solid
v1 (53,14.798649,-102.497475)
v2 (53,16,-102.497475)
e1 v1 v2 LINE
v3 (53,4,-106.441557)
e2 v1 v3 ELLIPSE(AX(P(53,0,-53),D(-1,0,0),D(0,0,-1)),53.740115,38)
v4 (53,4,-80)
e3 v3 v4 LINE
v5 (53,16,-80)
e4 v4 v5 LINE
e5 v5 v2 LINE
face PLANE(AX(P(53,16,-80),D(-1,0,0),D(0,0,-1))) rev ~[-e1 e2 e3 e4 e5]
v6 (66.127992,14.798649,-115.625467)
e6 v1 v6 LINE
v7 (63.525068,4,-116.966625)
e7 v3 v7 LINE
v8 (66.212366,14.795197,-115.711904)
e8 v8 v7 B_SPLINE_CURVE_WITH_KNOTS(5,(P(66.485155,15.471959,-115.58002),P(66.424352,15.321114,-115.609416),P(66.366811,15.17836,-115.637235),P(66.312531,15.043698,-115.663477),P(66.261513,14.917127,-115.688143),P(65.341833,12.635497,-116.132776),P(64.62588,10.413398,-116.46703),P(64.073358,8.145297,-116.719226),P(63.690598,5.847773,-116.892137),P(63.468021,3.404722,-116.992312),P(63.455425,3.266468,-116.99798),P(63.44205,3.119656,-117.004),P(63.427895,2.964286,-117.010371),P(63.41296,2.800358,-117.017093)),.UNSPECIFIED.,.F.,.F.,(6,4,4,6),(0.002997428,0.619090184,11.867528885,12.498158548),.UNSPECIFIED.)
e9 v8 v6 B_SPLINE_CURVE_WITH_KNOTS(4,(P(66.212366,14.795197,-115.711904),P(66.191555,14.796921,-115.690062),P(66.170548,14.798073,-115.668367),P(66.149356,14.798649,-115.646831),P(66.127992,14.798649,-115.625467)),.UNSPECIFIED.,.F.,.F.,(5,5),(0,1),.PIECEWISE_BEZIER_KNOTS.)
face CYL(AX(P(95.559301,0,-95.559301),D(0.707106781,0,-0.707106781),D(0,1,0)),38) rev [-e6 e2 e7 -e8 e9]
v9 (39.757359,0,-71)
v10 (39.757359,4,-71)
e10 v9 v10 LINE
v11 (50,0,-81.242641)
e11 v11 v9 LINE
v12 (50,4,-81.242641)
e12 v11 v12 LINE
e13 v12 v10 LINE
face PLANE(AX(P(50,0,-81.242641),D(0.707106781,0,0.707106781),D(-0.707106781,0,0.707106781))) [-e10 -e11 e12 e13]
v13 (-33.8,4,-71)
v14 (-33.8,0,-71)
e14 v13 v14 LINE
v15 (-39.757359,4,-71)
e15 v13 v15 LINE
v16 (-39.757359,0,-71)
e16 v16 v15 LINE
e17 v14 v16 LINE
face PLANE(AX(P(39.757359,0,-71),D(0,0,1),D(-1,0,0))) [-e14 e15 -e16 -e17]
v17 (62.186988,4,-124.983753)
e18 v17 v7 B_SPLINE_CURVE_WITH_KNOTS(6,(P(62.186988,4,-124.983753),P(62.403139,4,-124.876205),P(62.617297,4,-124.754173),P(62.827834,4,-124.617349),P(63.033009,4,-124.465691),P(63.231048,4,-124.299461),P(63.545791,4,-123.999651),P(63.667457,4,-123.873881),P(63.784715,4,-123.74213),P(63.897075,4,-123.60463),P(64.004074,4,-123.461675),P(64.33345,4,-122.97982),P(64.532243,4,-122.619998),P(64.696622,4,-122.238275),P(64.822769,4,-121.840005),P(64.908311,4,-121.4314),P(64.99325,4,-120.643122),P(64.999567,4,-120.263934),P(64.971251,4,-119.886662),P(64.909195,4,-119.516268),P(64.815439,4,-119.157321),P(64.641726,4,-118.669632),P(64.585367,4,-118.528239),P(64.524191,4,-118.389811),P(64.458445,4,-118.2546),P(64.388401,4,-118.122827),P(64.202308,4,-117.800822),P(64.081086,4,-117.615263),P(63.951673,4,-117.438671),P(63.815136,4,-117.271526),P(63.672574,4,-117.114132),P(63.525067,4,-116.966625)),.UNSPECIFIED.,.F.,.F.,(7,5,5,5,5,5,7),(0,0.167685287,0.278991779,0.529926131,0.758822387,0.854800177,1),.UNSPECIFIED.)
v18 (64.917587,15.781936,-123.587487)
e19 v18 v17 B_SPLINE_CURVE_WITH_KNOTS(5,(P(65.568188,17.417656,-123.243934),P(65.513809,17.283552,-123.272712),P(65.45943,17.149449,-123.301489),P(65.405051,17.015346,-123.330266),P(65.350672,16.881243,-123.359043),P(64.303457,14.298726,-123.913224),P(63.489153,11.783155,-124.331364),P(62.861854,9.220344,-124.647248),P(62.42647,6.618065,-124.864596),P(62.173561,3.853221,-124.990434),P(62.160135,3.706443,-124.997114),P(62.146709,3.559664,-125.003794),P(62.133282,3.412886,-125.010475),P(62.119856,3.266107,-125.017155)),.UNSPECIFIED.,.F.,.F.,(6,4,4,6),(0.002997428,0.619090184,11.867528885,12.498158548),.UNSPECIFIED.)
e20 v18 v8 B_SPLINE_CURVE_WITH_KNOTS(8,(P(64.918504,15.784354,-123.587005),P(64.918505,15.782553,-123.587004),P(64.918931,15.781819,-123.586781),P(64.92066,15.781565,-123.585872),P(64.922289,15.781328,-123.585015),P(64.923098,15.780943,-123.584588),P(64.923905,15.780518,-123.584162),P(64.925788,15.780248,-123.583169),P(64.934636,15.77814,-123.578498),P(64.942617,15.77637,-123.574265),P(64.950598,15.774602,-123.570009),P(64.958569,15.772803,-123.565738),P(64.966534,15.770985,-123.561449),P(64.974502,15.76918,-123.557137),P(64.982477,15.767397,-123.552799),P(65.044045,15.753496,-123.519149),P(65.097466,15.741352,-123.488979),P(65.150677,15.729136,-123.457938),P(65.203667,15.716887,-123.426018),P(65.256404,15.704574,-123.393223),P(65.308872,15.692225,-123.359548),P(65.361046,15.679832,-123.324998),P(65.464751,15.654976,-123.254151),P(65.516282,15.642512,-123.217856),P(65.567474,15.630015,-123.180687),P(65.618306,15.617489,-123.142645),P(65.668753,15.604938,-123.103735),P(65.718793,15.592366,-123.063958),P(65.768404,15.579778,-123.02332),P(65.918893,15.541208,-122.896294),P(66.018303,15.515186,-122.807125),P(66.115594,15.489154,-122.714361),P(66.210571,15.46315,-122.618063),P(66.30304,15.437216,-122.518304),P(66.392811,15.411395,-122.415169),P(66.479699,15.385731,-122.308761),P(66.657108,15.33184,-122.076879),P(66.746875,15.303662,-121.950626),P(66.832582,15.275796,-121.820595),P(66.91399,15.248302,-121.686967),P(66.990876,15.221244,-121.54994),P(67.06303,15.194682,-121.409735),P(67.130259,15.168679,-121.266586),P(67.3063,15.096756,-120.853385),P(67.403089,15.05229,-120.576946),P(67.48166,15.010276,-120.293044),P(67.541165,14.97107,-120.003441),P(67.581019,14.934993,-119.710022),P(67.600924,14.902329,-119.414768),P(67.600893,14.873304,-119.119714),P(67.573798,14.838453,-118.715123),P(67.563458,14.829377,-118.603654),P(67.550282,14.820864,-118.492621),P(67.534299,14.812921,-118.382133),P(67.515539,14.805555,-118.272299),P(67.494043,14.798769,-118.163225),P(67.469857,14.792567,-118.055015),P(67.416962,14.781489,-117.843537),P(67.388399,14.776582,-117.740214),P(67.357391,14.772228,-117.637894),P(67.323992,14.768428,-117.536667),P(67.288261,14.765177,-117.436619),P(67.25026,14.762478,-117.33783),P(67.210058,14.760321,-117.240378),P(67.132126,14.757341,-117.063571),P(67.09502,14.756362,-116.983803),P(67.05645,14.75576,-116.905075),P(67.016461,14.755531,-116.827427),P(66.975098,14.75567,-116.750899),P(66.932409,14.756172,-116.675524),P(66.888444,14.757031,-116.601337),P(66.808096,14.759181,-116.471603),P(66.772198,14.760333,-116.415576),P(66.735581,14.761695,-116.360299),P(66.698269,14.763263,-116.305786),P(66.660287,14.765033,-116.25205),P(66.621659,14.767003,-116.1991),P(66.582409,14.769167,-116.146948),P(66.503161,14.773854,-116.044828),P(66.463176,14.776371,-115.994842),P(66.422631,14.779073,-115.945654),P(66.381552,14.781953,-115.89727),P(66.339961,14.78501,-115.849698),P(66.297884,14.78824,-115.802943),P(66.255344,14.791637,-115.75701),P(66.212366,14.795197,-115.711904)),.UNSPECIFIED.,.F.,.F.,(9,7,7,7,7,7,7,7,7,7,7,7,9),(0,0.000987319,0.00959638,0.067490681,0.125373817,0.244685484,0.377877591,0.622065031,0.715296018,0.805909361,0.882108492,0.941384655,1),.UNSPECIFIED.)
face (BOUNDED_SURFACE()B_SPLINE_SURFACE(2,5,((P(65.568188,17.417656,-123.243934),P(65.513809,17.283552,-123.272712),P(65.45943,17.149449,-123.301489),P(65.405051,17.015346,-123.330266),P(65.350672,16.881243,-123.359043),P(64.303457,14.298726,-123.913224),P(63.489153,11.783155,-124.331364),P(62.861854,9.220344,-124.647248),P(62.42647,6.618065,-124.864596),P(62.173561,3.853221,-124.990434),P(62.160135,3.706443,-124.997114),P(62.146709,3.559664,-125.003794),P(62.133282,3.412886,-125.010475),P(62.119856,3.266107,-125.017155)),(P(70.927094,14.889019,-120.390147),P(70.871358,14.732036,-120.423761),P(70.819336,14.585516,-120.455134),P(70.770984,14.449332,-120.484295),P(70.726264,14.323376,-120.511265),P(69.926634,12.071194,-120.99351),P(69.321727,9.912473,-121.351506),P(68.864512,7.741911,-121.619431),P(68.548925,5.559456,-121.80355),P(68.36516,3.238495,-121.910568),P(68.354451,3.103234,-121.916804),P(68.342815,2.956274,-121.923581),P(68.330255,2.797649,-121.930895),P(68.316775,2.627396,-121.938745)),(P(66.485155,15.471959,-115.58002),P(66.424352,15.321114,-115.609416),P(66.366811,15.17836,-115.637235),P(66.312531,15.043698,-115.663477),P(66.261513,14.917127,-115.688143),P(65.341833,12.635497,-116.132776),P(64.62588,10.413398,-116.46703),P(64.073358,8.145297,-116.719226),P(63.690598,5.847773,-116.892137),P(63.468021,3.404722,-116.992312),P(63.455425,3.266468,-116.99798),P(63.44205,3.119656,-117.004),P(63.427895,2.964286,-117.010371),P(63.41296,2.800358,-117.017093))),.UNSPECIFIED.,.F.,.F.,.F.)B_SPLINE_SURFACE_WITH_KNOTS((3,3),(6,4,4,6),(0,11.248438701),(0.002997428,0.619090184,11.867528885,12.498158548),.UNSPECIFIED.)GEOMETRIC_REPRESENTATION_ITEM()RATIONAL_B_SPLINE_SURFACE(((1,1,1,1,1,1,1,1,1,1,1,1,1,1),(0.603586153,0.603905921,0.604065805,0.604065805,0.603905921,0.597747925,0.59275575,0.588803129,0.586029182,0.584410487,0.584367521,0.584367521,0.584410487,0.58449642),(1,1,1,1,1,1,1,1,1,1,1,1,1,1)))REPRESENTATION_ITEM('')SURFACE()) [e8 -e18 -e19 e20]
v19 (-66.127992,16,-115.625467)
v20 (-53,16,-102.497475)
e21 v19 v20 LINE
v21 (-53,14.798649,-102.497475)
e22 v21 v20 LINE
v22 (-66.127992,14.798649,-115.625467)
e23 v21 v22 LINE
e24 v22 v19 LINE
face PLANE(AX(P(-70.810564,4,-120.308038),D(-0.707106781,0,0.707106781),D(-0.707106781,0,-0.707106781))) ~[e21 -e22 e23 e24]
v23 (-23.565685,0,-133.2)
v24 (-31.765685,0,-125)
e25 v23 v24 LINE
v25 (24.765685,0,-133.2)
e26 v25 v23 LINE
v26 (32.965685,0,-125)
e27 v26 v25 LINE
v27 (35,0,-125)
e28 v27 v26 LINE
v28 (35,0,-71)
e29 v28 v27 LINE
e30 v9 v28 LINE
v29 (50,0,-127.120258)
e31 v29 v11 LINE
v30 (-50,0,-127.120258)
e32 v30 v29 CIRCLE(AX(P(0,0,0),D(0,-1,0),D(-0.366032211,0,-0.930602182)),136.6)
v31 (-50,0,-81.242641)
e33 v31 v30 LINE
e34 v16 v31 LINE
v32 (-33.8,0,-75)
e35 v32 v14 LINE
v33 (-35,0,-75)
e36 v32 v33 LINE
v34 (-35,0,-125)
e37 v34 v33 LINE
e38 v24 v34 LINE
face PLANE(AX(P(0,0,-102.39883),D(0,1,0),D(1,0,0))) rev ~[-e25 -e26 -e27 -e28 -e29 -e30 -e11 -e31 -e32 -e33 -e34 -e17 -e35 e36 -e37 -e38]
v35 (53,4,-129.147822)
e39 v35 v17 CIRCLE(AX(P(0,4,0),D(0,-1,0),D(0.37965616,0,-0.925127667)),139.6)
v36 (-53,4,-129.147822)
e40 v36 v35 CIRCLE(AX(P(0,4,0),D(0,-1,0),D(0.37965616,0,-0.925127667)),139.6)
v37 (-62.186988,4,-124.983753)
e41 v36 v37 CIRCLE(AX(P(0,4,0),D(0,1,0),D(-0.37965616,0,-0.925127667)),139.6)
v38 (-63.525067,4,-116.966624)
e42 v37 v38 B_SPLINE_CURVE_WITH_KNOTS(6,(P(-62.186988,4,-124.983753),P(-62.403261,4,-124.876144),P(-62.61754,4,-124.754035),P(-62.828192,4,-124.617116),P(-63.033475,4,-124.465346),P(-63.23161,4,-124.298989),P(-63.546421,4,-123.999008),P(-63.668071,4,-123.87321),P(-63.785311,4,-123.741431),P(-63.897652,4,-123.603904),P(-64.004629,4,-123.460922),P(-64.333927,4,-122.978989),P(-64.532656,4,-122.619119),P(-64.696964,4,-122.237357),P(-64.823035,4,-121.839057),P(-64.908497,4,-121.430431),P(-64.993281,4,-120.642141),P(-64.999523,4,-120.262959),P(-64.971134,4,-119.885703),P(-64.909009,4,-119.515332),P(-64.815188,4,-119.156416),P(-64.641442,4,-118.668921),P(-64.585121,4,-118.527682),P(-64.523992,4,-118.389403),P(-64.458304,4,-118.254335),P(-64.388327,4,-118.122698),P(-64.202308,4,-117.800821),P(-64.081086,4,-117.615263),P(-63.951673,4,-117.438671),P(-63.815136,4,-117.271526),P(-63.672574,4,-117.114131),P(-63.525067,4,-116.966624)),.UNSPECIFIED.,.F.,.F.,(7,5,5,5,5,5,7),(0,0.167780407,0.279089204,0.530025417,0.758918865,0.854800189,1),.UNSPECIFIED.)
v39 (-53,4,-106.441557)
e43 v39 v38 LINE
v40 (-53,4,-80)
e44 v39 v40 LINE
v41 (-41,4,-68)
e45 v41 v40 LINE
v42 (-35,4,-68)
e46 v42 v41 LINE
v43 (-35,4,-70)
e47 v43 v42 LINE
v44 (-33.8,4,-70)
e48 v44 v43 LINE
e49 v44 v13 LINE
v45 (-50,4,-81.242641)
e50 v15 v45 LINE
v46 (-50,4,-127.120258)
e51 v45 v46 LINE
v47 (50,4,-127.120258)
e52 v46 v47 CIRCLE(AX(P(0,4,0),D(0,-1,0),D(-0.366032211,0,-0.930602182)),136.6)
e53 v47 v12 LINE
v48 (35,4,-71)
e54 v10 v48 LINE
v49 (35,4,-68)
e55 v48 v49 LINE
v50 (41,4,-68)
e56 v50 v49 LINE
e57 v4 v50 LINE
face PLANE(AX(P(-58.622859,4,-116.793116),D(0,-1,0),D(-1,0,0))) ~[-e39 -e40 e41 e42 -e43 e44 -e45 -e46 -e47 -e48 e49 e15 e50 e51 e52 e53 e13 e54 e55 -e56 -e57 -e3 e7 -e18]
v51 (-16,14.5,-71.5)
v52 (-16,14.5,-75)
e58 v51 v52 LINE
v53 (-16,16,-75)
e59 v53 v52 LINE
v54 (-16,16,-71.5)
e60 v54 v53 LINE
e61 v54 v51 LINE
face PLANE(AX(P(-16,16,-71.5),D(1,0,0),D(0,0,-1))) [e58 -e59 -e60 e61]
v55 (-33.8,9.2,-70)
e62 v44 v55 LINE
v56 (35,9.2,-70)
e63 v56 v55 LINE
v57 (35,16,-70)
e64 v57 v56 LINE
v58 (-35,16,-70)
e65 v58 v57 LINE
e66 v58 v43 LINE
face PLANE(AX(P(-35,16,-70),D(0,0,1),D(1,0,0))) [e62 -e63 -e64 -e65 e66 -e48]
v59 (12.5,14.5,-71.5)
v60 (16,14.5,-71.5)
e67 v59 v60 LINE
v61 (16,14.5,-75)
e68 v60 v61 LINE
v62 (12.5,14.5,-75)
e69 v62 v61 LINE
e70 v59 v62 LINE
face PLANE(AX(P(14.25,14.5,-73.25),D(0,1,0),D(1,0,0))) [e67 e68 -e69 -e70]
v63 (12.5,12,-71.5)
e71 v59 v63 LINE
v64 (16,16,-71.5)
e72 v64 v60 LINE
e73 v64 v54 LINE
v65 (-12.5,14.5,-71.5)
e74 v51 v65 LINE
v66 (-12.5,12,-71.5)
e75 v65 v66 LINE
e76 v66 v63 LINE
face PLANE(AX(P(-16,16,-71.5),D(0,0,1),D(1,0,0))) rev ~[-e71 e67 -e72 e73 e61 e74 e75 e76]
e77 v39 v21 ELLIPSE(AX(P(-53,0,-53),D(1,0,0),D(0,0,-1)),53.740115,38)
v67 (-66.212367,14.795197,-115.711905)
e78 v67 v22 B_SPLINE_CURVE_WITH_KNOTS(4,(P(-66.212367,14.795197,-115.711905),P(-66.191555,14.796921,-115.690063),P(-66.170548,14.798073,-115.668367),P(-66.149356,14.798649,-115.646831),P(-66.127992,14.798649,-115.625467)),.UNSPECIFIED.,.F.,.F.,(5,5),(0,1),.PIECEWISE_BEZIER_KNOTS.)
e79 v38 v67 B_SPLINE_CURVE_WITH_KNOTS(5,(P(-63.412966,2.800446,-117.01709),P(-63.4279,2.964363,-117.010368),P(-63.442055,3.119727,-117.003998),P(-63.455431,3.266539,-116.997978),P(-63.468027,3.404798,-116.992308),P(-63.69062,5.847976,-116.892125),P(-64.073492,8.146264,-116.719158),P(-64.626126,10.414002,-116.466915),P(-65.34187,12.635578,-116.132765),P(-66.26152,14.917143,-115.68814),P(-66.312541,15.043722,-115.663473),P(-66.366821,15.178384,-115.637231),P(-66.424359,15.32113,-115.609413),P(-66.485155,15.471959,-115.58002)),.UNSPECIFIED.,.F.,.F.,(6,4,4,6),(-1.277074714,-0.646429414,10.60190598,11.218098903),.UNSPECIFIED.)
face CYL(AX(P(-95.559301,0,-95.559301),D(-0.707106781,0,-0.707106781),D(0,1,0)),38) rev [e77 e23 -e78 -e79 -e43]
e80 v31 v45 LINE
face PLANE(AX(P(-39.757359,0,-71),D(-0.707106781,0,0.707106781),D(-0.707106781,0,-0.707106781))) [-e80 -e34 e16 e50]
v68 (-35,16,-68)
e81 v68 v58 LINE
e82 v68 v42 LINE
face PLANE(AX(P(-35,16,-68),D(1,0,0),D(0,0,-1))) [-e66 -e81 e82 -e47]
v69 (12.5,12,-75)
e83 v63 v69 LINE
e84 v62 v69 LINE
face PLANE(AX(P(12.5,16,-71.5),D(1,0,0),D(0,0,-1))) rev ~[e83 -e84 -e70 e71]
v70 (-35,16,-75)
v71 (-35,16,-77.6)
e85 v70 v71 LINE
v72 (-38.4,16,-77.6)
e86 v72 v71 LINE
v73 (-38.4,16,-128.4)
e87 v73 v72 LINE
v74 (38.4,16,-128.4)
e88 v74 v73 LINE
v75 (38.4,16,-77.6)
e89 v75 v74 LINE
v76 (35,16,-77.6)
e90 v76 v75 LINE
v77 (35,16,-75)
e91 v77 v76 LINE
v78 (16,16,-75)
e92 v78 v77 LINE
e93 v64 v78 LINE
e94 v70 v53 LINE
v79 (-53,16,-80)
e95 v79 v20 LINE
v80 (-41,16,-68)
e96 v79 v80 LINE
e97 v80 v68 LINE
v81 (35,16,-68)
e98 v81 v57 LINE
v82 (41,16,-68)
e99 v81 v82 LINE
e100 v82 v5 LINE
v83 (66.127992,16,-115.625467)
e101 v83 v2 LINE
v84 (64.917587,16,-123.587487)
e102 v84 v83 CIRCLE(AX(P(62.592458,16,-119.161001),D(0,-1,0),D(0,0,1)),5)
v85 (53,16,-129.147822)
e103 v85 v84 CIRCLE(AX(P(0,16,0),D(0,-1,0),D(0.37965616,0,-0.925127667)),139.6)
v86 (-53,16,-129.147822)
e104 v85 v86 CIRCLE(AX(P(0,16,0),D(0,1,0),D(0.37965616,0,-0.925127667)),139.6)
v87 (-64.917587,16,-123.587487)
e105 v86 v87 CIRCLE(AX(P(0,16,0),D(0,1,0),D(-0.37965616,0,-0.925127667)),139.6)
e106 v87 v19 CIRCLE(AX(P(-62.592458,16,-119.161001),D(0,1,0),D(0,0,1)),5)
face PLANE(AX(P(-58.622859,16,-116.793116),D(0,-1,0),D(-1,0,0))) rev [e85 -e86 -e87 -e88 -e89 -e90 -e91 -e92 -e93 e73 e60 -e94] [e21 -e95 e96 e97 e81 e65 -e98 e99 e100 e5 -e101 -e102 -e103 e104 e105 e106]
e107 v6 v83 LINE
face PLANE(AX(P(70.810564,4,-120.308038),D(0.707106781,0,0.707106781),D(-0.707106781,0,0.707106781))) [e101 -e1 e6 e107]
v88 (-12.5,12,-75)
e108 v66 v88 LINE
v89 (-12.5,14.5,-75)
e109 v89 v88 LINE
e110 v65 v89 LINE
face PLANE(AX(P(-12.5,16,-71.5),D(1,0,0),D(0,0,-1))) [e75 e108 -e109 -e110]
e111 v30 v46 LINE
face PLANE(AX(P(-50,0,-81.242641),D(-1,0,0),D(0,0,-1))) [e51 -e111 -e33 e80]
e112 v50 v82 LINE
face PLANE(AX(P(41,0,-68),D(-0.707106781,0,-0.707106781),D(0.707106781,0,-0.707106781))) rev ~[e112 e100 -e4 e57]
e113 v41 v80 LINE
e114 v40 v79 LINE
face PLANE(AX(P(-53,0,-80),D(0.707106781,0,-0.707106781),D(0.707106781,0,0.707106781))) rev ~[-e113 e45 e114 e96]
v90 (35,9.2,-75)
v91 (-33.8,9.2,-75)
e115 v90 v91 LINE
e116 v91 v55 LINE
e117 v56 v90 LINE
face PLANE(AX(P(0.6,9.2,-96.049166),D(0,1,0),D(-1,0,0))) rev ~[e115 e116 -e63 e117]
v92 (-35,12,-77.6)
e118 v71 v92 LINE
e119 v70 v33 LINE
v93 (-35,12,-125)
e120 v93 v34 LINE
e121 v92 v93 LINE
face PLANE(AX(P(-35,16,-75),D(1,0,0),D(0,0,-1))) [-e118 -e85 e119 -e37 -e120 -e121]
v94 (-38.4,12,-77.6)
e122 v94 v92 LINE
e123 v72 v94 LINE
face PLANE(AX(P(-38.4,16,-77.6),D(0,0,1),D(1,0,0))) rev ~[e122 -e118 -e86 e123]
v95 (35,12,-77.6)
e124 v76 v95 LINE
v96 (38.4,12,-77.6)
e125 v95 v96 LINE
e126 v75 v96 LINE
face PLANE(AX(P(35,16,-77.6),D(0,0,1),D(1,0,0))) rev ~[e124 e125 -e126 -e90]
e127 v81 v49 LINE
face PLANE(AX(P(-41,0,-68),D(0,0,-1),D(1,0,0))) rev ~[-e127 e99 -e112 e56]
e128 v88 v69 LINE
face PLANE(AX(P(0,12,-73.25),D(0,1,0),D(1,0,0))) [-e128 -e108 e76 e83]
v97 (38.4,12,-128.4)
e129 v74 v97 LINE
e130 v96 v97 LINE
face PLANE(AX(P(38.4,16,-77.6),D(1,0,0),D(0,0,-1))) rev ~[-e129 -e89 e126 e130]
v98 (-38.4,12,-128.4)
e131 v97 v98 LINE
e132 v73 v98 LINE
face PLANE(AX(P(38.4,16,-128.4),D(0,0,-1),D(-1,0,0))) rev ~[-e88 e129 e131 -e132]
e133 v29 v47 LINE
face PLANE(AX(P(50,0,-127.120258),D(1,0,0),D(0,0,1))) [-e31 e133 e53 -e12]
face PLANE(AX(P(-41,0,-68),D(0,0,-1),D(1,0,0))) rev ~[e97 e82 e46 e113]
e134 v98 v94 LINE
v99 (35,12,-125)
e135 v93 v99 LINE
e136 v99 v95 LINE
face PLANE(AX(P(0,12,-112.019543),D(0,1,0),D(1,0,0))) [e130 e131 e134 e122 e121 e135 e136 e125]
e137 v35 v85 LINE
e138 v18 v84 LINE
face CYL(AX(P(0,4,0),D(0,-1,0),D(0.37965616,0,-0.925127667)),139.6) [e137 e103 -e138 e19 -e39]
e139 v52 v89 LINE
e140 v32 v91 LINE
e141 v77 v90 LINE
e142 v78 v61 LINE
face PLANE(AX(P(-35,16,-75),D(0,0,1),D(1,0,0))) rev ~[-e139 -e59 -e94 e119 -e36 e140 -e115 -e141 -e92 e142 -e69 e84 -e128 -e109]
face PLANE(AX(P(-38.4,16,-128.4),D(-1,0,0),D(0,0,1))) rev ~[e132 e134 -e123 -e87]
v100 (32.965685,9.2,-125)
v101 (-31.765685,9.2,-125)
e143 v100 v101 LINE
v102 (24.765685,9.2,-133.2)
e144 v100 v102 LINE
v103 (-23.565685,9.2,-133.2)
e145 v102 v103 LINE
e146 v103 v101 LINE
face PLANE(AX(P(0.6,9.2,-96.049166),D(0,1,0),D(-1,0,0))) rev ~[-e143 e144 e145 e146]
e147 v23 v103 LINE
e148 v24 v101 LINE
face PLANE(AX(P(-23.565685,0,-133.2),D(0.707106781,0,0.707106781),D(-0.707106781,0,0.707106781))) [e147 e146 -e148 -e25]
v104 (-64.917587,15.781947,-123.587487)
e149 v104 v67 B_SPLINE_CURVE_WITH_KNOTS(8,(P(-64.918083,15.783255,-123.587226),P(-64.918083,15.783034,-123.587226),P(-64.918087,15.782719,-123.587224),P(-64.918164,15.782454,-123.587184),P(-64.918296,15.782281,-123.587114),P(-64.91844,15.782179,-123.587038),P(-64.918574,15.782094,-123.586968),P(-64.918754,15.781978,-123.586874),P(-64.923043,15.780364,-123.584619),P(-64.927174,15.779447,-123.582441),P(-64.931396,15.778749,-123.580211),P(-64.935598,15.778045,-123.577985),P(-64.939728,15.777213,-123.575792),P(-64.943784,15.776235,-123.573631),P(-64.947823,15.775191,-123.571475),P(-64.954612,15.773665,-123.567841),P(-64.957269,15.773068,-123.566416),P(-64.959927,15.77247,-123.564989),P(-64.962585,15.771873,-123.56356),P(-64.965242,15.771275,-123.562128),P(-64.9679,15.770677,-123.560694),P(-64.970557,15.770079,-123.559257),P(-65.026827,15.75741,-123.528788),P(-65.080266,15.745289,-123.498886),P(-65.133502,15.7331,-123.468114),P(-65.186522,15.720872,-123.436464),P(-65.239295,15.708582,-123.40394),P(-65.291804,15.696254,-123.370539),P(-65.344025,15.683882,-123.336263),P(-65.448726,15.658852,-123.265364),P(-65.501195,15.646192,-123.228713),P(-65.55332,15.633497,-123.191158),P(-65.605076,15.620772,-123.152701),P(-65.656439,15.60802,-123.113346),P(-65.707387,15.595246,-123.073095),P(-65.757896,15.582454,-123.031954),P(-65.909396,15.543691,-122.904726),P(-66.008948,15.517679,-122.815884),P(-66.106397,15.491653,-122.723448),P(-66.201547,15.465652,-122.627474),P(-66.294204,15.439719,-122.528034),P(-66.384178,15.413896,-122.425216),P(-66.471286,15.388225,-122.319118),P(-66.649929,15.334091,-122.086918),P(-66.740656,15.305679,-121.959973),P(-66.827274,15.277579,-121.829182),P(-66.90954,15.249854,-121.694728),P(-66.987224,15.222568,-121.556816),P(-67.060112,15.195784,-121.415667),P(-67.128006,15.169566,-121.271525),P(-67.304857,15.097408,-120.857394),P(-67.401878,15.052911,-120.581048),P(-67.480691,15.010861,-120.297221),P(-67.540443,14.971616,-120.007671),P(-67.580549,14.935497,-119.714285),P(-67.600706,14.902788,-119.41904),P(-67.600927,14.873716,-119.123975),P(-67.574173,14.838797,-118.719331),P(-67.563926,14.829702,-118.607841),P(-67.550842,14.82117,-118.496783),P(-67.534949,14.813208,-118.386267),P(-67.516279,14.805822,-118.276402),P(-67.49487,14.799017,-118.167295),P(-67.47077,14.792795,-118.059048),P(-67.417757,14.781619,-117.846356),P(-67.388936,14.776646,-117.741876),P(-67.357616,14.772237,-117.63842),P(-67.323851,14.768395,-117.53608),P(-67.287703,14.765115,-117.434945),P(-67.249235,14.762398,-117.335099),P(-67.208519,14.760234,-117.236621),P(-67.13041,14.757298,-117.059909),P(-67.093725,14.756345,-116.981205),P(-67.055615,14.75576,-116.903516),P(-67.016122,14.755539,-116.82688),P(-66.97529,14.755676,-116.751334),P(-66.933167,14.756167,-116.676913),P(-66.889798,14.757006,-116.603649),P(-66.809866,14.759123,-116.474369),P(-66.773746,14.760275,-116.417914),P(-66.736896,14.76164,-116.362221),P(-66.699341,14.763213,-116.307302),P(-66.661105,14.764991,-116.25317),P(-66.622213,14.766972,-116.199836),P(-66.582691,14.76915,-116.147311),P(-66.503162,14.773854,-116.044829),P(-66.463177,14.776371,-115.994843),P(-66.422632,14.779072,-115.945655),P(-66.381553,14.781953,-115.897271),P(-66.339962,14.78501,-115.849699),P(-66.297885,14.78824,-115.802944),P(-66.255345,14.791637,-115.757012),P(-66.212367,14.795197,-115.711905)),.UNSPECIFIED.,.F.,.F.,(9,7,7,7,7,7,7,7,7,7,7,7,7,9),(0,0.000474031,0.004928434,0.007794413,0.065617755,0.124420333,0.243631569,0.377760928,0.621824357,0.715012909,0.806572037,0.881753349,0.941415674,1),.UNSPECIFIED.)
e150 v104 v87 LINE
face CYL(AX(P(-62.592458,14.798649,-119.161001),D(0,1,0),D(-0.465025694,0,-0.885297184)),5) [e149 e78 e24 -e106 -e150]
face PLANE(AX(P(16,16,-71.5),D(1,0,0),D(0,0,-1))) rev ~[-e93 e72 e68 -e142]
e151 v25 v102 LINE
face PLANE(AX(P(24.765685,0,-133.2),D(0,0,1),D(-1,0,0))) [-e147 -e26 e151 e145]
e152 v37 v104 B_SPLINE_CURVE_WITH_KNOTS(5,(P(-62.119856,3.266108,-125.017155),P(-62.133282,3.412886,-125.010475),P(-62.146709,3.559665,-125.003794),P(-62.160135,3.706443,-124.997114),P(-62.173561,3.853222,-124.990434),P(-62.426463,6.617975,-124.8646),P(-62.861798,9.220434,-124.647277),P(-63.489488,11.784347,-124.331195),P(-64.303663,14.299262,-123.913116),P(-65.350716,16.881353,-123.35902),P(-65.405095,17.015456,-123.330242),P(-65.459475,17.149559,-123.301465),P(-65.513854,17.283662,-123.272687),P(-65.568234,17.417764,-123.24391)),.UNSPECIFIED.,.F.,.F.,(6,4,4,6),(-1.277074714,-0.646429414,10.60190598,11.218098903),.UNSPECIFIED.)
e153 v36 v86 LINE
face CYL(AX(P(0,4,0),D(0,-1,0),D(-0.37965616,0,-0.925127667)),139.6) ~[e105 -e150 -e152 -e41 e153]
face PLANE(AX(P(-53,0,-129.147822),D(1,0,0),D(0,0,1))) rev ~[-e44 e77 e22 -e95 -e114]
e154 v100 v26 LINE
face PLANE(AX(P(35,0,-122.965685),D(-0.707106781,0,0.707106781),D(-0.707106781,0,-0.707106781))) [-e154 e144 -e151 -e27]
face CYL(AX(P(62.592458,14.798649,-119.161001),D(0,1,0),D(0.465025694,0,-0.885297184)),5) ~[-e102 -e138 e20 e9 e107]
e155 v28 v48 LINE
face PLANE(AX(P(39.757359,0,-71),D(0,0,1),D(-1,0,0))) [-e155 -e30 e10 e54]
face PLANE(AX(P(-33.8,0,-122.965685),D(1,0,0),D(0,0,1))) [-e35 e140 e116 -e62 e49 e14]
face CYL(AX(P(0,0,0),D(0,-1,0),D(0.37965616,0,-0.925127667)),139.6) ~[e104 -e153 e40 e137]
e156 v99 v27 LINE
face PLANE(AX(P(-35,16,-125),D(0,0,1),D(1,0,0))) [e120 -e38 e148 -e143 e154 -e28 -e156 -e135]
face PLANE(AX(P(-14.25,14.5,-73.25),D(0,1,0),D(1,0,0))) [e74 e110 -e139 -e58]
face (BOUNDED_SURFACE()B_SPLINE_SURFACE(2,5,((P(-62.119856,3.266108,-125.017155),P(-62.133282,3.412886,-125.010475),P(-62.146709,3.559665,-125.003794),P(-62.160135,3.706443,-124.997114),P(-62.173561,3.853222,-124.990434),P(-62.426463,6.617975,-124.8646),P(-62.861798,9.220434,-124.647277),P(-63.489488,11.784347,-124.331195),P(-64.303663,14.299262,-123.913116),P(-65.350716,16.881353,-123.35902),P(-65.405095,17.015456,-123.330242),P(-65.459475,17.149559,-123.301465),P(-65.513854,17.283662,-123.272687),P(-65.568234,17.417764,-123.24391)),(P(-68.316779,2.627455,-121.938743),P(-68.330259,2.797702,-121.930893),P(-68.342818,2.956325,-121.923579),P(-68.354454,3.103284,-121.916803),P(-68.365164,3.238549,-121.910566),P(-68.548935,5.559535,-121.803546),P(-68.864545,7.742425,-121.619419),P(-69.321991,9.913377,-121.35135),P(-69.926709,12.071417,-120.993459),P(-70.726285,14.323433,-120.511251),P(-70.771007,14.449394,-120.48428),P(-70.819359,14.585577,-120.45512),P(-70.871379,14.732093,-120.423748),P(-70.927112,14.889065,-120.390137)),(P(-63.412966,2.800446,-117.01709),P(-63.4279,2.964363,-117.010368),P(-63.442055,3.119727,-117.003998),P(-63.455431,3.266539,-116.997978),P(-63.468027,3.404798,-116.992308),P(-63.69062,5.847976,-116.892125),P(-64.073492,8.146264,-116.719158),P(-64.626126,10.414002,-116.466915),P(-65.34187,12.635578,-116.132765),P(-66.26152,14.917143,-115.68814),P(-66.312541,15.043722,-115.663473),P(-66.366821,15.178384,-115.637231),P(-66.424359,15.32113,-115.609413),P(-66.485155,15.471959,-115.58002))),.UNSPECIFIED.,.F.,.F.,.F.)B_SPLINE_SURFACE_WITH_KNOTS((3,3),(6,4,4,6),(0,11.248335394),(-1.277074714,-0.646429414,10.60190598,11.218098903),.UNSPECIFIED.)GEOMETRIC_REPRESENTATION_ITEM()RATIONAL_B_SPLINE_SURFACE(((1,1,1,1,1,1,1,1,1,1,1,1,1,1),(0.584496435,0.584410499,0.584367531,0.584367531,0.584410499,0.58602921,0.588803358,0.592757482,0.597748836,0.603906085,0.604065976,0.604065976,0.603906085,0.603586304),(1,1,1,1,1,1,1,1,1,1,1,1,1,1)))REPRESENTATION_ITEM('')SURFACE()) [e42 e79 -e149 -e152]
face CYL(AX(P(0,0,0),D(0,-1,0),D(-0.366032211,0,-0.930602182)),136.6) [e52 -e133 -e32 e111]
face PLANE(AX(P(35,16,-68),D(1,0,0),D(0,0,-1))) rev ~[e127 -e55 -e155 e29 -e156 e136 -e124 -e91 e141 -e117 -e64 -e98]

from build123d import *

# Parameters (mm, degrees)
BOSS_EXTRUDE1_DEPTH = 16
CUT_EXTRUDE1_DEPTH  = 9.2
CUT_EXTRUDE2_REACH  = 152.177
SKETCH3_W           = 70
SKETCH3_H           = 50
SKETCH7_OUTSIDE_W   = 133.782
SKETCH7_OUTSIDE_H   = 99.382
CUT_EXTRUDE5_DEPTH  = 4
BOSS_EXTRUDE3_START = -12
BOSS_EXTRUDE3_DEPTH = 12
CUT_EXTRUDE7_REACH  = 174.842
SKETCH9_R           = 38
CUT_EXTRUDE8_REACH  = 174.842
SKETCH10_R          = 38
FILLET1_R           = 5
SKETCH12_W          = 25
SKETCH12_H          = 3.5
CUT_EXTRUDE10_DEPTH = 4
SKETCH13_W          = 3.5
SKETCH13_H          = 3.5
CUT_EXTRUDE11_DEPTH = 1.5
CUT_EXTRUDE12_REACH = 157.926
SKETCH14_W          = 70
SKETCH14_H          = 2
CUT_EXTRUDE13_DEPTH = 4


with BuildPart() as part:
    # Sketch1 → Boss-Extrude1 (new body)
    with BuildSketch(Plane(origin=(0, 0, 0), x_dir=(1, 0, 0), z_dir=(0, 1, 0))):
        with BuildLine():
            Line((-53, 129.147822281), (-53, 80))
            Line((-53, 80), (-41, 68))
            Line((-41, 68), (41, 68))
            Line((41, 68), (53, 80))
            Line((53, 80), (53, 129.147822281))
            ThreePointArc((53, 129.147822281), (0, 139.6), (-53, 129.147822281))
        make_face()
    extrude(amount=BOSS_EXTRUDE1_DEPTH)

    # Sketch2 → Cut-Extrude1 (cut)
    with BuildSketch(Plane.XZ):
        Polygon((-33.8, -122.965685425), (-33.8, -62.4), (35, -62.4), (35, -122.965685425), (24.765685425, -133.2), (-23.565685425, -133.2), align=None)
    extrude(amount=-CUT_EXTRUDE1_DEPTH, mode=Mode.SUBTRACT)

    # Sketch3 → Cut-Extrude2 (cut, up to next)
    with BuildSketch(Plane(origin=(0, 16, 0), x_dir=(1, 0, 0), z_dir=(0, 1, 0)), mode=Mode.PRIVATE) as cut_extrude2_sk1:
        with Locations((0, 100)):
            Rectangle(SKETCH3_W, SKETCH3_H)
    cut_extrude2_tool1 = extrude(cut_extrude2_sk1.sketch, amount=-CUT_EXTRUDE2_REACH, mode=Mode.PRIVATE) & part.part
    add(cut_extrude2_tool1.solids().sort_by_distance((0, 16, -100))[0], mode=Mode.SUBTRACT)

    # Sketch7 outside → Cut-Extrude5 (cut)
    with BuildSketch(Plane.XZ):
        with Locations((0, -103.8)):
            Rectangle(SKETCH7_OUTSIDE_W, SKETCH7_OUTSIDE_H)
        with BuildLine():
            Line((-50, -81.242640687), (-50, -127.120258024))
            ThreePointArc((-50, -127.120258024), (0, -136.6), (50, -127.120258024))
            Line((50, -127.120258024), (50, -81.242640687))
            Line((50, -81.242640687), (39.757359313, -71))
            Line((39.757359313, -71), (35, -71))
            Line((35, -71), (-33.8, -71))
            Line((-33.8, -71), (-39.757359313, -71))
            Line((-39.757359313, -71), (-50, -81.242640687))
        make_face(mode=Mode.SUBTRACT)
    extrude(amount=-CUT_EXTRUDE5_DEPTH, mode=Mode.SUBTRACT)

    # Sketch8 → Boss-Extrude3 (add)
    with BuildSketch(Plane(origin=(0, 16, 0), x_dir=(1, 0, 0), z_dir=(0, 1, 0)).offset(BOSS_EXTRUDE3_START)):
        with BuildLine():
            Line((70.810563619, 120.308038302), (53, 102.497474683))
            Line((53, 102.497474683), (53, 129.147822281))
            ThreePointArc((53, 129.147822281), (62.062866201, 125.045434299), (70.810563619, 120.308038302))
        make_face()
    boss_extrude3 = extrude(amount=BOSS_EXTRUDE3_DEPTH)

    # Mirror1: Boss-Extrude3 across plane
    add(boss_extrude3.mirror(Plane(origin=(0, 0, 0), x_dir=(0, 0, 1), z_dir=(1, 0, 0))))

    # Cut-Extrude7: up to this plane
    cut_extrude7_end = Plane(origin=(53, 16, -80), z_dir=(-1, 0, 0))
    # Sketch9 → Cut-Extrude7 (cut, up to the surface)
    with BuildSketch(Plane(origin=(95.55930096, 0, -95.55930096), x_dir=(0, 1, 0), z_dir=(-0.7071067811865488, 0, 0.7071067811865464)), mode=Mode.PRIVATE) as cut_extrude7_sk1:
        Circle(SKETCH9_R)
    cut_extrude7_tool1 = split(extrude(cut_extrude7_sk1.sketch, amount=CUT_EXTRUDE7_REACH, mode=Mode.PRIVATE), bisect_by=cut_extrude7_end, keep=Keep.BOTH, mode=Mode.PRIVATE)
    add(cut_extrude7_tool1.solids().sort_by_distance((95.559301, 0, -95.559301))[0], mode=Mode.SUBTRACT)

    # Cut-Extrude8: up to this plane
    cut_extrude8_end = Plane(origin=(-53, 16, -129.147822281), z_dir=(1, 0, 0))
    # Sketch10 → Cut-Extrude8 (cut, up to the surface)
    with BuildSketch(Plane(origin=(-95.55930096, 0, -95.55930096), x_dir=(0, 1, 0), z_dir=(0.7071067811865488, 0, 0.7071067811865464)), mode=Mode.PRIVATE) as cut_extrude8_sk1:
        Circle(SKETCH10_R)
    cut_extrude8_tool1 = split(extrude(cut_extrude8_sk1.sketch, amount=CUT_EXTRUDE8_REACH, mode=Mode.PRIVATE), bisect_by=cut_extrude8_end, keep=Keep.BOTH, mode=Mode.PRIVATE)
    add(cut_extrude8_tool1.solids().sort_by_distance((-95.559301, 0, -95.559301))[0], mode=Mode.SUBTRACT)

    # Fillet1
    fillet1_edges = [part.edges().sort_by_distance(p)[0] for p in [
        (70.810563619, 15.399324293, -120.308038302),
        (69.207065384, 9.508661419, -121.237544106),
        (-70.810563619, 15.399324293, -120.308038302),
        (-69.207065384, 9.508661419, -121.237544106),
    ]]
    fillet(fillet1_edges, radius=FILLET1_R)

    # Sketch12 → Cut-Extrude10 (cut)
    with BuildSketch(Plane(origin=(0, 16, 0), x_dir=(1, 0, 0), z_dir=(0, 1, 0))):
        with Locations((0, 73.25)):
            Rectangle(SKETCH12_W, SKETCH12_H)
    extrude(amount=-CUT_EXTRUDE10_DEPTH, mode=Mode.SUBTRACT)

    # Sketch13 → Cut-Extrude11 (cut)
    with BuildSketch(Plane(origin=(0, 16, 0), x_dir=(1, 0, 0), z_dir=(0, 1, 0))):
        with Locations((-14.25, 73.25)):
            Rectangle(SKETCH13_W, SKETCH13_H)
        with Locations((14.25, 73.25)):
            Rectangle(SKETCH13_W, SKETCH13_H)
    extrude(amount=-CUT_EXTRUDE11_DEPTH, mode=Mode.SUBTRACT)

    # Sketch14 → Cut-Extrude12 (cut, up to next)
    with BuildSketch(Plane(origin=(0, 16, 0), x_dir=(1, 0, 0), z_dir=(0, 1, 0)), mode=Mode.PRIVATE) as cut_extrude12_sk1:
        with Locations((0, 69)):
            Rectangle(SKETCH14_W, SKETCH14_H)
    cut_extrude12_tool1 = extrude(cut_extrude12_sk1.sketch, amount=-CUT_EXTRUDE12_REACH, mode=Mode.PRIVATE) & part.part
    add(cut_extrude12_tool1.solids().sort_by_distance((0, 16, -69))[0], mode=Mode.SUBTRACT)

    # Sketch15 → Cut-Extrude13 (cut)
    with BuildSketch(Plane(origin=(0, 16, 0), x_dir=(1, 0, 0), z_dir=(0, 1, 0))):
        Polygon((-35, 77.6), (-35, 125), (35, 125), (35, 77.6), (38.4, 77.6), (38.4, 128.4), (-38.4, 128.4), (-38.4, 77.6), align=None)
    extrude(amount=-CUT_EXTRUDE13_DEPTH, mode=Mode.SUBTRACT)


solid = part.part
